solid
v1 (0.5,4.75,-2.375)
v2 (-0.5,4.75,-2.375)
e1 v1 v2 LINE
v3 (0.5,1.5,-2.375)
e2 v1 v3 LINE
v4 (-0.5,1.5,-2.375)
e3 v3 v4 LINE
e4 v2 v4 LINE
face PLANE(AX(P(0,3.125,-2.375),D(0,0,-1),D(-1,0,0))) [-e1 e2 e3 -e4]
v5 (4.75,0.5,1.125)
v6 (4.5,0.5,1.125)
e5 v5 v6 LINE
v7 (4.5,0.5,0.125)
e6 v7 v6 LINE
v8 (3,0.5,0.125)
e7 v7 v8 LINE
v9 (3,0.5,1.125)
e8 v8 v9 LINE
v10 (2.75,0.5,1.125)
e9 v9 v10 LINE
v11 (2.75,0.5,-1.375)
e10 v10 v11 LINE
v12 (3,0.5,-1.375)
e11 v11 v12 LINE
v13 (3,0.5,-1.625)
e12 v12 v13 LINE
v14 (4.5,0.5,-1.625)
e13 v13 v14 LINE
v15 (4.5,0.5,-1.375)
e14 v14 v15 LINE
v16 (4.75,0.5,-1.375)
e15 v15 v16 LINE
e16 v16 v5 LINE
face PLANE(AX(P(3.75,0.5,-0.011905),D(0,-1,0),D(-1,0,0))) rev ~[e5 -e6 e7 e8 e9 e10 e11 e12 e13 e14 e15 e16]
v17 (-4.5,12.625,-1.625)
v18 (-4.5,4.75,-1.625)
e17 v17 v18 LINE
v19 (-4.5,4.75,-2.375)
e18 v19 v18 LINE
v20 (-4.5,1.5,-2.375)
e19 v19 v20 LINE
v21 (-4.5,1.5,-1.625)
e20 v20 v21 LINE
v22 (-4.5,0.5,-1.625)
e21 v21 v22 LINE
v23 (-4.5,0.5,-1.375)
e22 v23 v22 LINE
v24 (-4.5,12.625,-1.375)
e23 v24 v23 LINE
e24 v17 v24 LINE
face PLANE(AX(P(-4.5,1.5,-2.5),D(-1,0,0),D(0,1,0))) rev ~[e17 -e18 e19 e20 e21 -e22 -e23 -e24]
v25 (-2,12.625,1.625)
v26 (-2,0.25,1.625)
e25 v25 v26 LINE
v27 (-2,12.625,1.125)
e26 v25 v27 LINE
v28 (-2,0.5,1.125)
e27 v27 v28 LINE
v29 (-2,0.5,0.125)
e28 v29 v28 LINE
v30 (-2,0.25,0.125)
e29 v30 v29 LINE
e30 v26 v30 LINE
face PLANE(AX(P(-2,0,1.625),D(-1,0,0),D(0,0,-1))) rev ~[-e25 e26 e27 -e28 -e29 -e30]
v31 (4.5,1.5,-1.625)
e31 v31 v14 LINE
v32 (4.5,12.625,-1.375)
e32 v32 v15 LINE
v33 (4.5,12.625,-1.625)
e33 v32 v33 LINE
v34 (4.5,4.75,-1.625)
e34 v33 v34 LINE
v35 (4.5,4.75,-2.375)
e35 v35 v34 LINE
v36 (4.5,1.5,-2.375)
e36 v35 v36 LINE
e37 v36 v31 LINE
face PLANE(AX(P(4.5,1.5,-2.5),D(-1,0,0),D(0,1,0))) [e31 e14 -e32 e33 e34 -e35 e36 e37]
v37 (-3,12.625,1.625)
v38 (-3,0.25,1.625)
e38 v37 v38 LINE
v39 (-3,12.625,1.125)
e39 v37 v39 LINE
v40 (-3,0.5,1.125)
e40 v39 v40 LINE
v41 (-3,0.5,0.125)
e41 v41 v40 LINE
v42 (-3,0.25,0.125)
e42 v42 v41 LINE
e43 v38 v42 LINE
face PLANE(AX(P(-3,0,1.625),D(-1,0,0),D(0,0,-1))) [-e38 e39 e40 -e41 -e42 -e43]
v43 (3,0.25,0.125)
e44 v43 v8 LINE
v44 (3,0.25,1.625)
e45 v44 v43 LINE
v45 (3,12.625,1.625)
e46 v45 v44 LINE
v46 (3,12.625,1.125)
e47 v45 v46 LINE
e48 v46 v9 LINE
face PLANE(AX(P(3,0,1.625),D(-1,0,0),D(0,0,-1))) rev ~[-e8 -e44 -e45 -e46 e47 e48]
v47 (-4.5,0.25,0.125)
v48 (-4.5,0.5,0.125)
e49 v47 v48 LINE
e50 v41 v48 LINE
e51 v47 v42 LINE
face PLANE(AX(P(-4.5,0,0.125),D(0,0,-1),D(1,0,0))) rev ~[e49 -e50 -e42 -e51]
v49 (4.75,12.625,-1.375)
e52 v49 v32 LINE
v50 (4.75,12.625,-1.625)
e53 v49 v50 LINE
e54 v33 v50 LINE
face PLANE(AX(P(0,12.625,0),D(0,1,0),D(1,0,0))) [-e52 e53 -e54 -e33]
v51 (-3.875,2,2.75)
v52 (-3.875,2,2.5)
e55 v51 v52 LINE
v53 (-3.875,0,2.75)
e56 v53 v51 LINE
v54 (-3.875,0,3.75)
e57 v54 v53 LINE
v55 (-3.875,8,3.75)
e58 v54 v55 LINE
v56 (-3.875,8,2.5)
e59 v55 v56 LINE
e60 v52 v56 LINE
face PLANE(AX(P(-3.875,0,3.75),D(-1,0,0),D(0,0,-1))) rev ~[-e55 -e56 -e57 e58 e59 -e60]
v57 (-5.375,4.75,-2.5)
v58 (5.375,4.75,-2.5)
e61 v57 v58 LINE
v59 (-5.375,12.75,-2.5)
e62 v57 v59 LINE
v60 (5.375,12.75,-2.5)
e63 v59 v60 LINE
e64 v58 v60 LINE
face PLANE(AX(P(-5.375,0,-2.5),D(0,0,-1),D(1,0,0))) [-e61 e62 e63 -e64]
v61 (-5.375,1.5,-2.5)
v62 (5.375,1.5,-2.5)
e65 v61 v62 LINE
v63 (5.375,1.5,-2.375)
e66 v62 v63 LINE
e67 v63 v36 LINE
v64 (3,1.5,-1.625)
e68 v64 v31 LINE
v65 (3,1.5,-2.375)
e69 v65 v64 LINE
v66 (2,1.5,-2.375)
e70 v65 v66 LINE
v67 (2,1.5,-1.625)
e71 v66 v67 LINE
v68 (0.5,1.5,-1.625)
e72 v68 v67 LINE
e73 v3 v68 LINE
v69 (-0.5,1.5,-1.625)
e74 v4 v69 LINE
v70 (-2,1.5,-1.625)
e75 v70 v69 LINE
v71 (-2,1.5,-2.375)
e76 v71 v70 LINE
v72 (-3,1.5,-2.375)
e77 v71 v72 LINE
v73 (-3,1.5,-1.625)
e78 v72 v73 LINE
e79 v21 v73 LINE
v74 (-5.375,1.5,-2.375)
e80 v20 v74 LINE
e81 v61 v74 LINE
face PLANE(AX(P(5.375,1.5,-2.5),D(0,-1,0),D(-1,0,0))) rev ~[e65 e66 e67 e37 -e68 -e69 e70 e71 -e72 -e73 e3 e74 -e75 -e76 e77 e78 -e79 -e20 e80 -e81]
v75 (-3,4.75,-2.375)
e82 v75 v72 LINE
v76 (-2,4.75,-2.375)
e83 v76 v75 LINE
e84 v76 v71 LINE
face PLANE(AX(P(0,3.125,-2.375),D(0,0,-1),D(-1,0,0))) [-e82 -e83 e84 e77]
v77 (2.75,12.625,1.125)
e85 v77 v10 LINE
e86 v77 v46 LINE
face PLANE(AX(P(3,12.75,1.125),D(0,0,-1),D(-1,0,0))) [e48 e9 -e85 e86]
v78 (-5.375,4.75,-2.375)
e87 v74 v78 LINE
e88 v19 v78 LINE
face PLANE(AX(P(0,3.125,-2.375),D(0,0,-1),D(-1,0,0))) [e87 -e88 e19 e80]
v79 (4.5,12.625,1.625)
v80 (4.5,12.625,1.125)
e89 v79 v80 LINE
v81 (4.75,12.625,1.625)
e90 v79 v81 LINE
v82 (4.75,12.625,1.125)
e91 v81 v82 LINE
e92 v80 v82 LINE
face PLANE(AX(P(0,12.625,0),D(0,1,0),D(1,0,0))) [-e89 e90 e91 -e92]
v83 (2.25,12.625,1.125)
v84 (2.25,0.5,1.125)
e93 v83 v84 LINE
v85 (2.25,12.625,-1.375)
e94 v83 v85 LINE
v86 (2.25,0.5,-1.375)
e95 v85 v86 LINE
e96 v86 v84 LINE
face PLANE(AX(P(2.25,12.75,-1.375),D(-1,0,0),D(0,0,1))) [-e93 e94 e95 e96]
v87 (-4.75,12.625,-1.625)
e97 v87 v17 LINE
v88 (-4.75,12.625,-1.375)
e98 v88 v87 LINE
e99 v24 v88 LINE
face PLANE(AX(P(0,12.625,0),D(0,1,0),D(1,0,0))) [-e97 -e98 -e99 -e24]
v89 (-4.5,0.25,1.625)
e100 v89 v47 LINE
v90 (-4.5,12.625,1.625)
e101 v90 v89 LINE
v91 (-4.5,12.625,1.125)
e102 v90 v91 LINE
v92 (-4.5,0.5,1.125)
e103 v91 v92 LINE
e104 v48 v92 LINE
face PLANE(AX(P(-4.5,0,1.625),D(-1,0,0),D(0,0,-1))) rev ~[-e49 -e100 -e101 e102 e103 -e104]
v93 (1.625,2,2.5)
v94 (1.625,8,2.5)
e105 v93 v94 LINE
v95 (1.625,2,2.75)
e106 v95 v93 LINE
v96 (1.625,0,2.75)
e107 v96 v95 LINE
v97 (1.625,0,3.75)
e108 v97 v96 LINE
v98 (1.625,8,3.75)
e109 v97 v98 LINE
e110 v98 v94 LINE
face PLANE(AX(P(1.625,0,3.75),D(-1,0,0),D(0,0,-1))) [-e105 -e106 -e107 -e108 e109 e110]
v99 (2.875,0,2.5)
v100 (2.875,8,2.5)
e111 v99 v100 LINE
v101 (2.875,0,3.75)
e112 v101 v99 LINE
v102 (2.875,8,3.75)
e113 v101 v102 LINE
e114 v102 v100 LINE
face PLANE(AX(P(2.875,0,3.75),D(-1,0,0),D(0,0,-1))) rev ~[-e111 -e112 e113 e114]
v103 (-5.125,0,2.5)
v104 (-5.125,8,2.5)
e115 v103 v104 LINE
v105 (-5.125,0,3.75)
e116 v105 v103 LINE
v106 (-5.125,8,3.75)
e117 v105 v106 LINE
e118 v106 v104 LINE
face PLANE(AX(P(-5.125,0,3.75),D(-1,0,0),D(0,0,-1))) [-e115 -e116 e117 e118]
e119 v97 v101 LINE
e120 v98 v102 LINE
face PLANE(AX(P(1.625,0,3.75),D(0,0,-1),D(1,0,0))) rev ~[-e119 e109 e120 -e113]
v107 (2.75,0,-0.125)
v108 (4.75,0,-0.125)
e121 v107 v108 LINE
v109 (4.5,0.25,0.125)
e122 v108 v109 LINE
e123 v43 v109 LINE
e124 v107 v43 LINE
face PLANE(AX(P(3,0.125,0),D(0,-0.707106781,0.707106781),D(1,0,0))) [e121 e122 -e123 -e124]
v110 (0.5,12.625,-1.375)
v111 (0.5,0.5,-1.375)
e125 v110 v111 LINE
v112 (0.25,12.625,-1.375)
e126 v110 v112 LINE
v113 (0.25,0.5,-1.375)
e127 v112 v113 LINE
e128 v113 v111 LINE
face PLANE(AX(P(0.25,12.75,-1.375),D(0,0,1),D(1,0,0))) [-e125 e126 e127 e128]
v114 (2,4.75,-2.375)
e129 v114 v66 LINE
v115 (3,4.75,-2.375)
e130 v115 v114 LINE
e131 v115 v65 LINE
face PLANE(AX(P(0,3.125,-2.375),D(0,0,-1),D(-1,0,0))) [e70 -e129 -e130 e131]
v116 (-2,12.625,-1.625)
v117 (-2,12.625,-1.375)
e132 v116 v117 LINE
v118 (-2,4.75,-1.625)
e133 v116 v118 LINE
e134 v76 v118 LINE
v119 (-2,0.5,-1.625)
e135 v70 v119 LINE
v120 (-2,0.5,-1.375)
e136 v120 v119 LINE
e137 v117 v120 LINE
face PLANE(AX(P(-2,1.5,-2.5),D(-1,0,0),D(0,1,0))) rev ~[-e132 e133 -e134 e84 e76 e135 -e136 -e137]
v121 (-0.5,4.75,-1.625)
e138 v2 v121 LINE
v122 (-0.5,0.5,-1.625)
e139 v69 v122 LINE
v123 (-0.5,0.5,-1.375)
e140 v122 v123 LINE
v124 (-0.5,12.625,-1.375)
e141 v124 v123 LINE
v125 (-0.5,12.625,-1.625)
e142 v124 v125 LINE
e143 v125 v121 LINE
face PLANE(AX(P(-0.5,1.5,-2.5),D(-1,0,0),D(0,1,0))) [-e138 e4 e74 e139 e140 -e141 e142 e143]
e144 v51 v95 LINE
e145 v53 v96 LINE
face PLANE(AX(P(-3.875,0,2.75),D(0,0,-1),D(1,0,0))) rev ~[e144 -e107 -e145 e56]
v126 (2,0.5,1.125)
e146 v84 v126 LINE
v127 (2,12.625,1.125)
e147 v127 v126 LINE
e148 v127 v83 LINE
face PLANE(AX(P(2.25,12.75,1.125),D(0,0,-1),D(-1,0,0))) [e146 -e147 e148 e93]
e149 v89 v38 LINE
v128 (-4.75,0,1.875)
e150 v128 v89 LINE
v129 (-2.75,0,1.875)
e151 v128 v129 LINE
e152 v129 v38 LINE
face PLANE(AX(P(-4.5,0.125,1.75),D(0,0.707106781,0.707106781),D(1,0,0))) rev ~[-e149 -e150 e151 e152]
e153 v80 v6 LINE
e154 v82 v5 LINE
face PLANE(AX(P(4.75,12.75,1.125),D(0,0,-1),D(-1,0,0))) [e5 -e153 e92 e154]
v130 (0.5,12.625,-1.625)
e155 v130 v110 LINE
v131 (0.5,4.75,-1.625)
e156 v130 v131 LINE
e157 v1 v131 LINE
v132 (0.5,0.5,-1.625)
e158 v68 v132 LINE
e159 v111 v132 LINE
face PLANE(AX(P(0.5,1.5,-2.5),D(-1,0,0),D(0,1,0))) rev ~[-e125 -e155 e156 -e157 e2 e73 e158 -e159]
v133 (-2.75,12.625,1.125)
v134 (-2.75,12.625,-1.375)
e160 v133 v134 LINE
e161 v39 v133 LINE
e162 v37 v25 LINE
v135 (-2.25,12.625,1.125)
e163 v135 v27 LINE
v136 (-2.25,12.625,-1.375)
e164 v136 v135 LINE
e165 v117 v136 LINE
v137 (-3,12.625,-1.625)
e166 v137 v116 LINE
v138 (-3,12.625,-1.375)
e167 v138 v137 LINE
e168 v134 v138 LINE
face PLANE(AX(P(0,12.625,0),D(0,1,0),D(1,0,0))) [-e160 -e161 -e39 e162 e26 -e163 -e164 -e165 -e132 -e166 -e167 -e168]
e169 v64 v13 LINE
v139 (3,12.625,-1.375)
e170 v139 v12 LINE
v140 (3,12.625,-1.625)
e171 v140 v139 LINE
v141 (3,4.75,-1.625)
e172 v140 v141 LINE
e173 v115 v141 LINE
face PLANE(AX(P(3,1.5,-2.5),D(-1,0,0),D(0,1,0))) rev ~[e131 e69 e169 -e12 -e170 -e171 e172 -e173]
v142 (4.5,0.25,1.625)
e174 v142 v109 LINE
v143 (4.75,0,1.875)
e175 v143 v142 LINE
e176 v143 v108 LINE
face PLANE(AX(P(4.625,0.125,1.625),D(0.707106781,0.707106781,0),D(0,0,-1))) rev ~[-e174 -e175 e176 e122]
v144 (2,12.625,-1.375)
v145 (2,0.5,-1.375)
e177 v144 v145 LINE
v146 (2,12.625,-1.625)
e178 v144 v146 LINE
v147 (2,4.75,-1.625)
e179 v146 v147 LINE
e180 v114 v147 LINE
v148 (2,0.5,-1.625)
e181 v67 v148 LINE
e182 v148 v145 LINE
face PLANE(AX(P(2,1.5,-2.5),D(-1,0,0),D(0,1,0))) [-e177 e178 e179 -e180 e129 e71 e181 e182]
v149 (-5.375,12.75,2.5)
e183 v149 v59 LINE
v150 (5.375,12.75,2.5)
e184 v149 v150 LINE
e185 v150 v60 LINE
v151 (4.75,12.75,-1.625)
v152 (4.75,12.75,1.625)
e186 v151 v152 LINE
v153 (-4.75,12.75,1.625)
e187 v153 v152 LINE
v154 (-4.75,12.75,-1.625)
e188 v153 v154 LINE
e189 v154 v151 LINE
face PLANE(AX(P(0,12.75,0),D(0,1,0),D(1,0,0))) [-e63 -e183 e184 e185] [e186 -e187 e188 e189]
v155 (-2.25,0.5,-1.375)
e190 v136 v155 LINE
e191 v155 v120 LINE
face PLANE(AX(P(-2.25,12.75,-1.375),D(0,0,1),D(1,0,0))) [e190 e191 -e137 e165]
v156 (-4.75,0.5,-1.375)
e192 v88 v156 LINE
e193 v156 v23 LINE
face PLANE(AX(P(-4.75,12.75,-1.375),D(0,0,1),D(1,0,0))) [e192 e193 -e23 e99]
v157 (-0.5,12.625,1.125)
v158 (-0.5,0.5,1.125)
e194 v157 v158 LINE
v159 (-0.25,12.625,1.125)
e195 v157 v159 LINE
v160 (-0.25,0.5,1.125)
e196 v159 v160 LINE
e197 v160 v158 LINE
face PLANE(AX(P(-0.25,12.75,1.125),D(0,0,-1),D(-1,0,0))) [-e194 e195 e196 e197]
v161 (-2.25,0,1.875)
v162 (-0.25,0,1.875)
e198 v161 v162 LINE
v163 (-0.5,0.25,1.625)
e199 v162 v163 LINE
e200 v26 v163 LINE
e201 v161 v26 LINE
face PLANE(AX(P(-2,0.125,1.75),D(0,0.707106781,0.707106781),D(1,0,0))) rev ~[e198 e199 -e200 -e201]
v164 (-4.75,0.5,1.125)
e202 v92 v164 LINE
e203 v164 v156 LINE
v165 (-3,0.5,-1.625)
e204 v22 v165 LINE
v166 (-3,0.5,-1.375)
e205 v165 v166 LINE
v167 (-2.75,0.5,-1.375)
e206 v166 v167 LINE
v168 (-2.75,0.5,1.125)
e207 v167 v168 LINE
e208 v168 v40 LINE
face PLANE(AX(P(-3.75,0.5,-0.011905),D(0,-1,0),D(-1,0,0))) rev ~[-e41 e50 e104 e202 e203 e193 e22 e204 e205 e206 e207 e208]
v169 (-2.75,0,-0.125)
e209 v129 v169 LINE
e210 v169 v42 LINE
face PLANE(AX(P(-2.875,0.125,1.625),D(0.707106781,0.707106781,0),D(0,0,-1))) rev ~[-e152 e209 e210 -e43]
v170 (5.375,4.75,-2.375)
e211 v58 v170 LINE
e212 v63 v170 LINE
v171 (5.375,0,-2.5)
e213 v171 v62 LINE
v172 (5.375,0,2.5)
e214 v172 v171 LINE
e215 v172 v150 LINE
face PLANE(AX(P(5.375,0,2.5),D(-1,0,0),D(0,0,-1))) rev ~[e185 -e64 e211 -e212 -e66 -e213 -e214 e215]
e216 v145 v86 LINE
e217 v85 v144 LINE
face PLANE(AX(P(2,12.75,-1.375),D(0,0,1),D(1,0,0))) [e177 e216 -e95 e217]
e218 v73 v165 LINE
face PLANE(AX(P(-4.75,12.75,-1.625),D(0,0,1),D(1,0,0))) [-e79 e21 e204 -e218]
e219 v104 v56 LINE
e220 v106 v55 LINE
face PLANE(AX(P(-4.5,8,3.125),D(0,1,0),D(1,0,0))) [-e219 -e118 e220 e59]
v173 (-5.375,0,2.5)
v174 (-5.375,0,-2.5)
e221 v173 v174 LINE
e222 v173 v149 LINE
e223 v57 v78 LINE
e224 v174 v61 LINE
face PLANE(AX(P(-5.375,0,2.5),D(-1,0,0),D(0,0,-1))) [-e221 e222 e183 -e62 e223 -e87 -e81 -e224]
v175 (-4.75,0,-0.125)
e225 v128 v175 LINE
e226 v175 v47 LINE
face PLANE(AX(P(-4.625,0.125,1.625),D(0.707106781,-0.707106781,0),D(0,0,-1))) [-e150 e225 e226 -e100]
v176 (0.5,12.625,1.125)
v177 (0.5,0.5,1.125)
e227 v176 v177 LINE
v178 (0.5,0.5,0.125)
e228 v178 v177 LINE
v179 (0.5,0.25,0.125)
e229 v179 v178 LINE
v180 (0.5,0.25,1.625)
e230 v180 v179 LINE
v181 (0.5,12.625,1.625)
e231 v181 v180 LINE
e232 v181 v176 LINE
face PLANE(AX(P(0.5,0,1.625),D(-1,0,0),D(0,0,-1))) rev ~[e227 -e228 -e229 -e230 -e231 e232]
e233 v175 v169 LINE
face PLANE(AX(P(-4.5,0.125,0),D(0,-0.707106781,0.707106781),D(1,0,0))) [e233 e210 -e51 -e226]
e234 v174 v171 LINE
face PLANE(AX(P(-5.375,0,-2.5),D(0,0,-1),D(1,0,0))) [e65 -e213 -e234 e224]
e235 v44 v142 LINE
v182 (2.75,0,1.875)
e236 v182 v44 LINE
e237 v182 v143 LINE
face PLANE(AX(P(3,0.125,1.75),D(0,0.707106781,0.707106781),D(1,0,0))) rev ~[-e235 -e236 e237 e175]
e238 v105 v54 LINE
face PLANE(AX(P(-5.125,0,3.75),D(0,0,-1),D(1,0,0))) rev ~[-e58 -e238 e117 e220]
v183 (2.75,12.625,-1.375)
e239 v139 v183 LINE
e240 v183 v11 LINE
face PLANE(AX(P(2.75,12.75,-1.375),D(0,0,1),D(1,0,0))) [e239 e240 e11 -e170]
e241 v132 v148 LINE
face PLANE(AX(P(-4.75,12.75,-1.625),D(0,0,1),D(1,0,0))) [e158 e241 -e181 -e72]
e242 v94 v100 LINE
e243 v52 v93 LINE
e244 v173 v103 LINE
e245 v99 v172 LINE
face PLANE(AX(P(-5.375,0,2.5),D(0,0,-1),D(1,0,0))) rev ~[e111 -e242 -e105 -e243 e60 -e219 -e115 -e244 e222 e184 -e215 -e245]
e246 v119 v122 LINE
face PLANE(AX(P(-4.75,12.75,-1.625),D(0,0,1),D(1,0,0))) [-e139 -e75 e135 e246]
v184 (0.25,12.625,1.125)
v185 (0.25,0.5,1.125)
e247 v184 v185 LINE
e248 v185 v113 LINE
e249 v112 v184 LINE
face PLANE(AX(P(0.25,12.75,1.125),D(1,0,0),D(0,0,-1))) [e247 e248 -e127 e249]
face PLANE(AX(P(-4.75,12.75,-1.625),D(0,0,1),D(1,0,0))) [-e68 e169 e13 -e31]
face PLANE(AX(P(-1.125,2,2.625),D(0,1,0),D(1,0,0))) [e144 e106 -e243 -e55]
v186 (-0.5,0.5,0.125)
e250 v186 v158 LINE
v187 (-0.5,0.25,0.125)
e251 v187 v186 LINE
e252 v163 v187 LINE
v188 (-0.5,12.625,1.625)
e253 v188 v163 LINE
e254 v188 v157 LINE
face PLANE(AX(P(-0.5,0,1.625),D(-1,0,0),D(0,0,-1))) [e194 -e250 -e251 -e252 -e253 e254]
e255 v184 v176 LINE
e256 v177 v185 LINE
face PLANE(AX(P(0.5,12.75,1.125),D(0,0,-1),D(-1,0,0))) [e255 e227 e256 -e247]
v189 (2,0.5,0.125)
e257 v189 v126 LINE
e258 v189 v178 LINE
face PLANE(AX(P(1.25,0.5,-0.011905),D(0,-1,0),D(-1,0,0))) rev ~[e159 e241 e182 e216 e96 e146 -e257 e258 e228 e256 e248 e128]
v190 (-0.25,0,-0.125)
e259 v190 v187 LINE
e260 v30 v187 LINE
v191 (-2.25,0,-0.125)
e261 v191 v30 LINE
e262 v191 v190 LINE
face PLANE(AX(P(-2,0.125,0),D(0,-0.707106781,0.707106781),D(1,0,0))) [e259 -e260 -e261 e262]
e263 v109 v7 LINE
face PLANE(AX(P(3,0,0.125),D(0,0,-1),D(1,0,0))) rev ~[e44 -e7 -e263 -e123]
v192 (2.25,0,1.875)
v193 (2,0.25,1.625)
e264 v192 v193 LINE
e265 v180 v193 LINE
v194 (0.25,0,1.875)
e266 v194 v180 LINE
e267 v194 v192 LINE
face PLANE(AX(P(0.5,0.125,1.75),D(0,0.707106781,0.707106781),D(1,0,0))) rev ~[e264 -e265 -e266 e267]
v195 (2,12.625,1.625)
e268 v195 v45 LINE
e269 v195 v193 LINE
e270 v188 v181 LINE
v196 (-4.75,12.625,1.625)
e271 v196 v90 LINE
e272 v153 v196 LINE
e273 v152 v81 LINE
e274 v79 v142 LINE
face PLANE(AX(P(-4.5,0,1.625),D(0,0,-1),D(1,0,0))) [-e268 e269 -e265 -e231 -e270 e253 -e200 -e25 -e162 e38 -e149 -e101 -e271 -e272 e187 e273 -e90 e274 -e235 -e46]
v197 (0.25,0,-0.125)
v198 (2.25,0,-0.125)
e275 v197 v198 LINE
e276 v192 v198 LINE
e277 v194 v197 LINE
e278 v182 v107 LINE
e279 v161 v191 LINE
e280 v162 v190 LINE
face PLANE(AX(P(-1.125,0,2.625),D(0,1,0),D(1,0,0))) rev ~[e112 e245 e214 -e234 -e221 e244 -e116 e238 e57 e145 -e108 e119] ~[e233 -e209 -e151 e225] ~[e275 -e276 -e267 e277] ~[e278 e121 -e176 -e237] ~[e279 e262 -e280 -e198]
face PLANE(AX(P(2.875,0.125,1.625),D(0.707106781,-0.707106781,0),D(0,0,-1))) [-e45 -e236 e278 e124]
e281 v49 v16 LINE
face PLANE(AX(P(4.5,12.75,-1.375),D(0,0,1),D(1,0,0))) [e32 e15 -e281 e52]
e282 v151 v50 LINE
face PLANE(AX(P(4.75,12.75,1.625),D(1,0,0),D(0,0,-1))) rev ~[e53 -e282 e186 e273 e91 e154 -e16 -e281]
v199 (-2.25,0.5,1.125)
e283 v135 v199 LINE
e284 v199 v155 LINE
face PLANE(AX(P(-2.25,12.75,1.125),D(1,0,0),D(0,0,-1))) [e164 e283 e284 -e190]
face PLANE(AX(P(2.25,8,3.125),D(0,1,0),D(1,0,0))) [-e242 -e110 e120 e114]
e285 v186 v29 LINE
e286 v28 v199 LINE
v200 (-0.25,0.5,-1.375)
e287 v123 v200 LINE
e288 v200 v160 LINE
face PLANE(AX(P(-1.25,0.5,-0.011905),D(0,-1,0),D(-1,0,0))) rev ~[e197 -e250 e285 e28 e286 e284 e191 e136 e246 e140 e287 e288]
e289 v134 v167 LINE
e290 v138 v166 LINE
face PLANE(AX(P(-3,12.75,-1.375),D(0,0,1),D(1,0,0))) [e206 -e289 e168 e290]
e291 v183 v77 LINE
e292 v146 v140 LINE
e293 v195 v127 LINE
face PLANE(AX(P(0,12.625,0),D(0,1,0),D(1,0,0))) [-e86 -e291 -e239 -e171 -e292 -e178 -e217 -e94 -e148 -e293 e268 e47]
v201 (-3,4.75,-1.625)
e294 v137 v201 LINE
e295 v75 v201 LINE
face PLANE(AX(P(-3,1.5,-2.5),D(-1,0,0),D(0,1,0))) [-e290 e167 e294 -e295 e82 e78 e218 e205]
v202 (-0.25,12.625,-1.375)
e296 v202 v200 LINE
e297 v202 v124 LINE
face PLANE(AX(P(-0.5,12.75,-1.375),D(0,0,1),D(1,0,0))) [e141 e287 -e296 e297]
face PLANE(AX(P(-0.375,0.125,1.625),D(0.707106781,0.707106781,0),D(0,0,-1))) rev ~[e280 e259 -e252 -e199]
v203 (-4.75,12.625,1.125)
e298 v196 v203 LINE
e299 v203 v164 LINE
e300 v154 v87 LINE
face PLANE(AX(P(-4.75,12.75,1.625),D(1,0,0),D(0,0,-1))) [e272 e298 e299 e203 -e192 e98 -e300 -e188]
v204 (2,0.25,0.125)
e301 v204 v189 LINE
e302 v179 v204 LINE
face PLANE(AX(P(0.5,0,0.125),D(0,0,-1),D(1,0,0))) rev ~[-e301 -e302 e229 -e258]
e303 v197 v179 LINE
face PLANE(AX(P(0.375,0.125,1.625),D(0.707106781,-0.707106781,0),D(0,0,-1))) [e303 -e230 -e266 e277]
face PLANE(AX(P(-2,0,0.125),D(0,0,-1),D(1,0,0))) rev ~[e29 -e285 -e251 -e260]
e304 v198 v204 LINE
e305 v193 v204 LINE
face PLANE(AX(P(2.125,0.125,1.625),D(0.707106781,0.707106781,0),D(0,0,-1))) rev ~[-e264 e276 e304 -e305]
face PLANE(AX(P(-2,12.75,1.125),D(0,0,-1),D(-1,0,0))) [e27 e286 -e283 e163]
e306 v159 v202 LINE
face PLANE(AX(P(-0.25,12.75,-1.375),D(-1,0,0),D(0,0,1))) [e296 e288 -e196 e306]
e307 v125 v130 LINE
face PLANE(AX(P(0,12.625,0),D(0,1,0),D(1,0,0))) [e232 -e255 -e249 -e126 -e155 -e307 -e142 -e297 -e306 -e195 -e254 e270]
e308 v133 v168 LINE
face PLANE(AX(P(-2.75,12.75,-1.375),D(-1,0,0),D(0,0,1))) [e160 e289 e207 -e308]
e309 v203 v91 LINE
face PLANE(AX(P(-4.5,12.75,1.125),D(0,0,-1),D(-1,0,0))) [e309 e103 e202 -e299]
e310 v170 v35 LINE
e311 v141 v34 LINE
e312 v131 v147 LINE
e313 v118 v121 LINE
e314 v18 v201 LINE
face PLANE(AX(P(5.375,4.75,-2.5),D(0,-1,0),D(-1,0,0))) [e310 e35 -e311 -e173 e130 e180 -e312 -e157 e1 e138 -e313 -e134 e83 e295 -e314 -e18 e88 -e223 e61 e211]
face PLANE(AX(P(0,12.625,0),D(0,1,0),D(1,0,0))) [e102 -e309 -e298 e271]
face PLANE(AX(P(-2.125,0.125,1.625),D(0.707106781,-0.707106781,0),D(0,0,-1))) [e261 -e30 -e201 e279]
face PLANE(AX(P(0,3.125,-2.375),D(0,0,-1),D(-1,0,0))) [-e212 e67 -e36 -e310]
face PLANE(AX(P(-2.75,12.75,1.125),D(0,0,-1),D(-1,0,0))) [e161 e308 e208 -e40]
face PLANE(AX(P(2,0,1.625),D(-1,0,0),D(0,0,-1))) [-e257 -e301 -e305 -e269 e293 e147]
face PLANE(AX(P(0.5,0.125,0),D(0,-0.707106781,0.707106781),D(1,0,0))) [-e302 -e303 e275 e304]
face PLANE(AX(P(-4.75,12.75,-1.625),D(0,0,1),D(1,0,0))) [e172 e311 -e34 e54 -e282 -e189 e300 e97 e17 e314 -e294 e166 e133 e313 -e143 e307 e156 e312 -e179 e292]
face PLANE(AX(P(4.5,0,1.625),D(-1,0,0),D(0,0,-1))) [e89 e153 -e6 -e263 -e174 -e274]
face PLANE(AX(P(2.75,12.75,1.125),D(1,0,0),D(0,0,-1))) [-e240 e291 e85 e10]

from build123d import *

# Parameters (mm, degrees)
SKIZZE1_W                       = 10.75
SKIZZE1_H                       = 5
AUFSATZ_LINEAR_AUSTRAGEN1_DEPTH = 12.75
SKIZZE2_W                       = 1.25
SKIZZE2_H                       = 1.25
AUFSATZ_LINEAR_AUSTRAGEN2_DEPTH = 8
SKIZZE3_W                       = 5.5
SKIZZE3_H                       = 0.25
AUFSATZ_LINEAR_AUSTRAGEN3_DEPTH = 2
SKIZZE4_W                       = 1.5
SKIZZE4_H                       = 1.5
SCHNITT_LINEAR_AUSTRAGEN2_DEPTH = 15.335816161
FASE1_SIZE                      = 0.25
SCHNITT_LINEAR_AUSTRAGEN3_DEPTH = 12.25
SKIZZE6_W                       = 9.5
SKIZZE6_H                       = 3.25
SCHNITT_LINEAR_AUSTRAGEN4_DEPTH = 0.125
SKIZZE7_W                       = 1.5
SKIZZE7_H                       = 3.25
SCHNITT_LINEAR_AUSTRAGEN5_DEPTH = 1
SKIZZE8_W                       = 10.75
SKIZZE8_H                       = 3.25
SCHNITT_LINEAR_AUSTRAGEN6_DEPTH = 0.125


with BuildPart() as part:
    # Skizze1 → Aufsatz-Linear austragen1 (new body)
    with BuildSketch(Plane(origin=(0, 0, 0), x_dir=(1, 0, 0), z_dir=(0, 1, 0))):
        Rectangle(SKIZZE1_W, SKIZZE1_H)
    extrude(amount=AUFSATZ_LINEAR_AUSTRAGEN1_DEPTH)

    # Skizze2 → Aufsatz-Linear austragen2 (add)
    with BuildSketch(Plane(origin=(0, 0, 0), x_dir=(1, 0, 0), z_dir=(0, 1, 0))):
        with Locations((-4.5, -3.125)):
            Rectangle(SKIZZE2_W, SKIZZE2_H)
        with Locations((2.25, -3.125)):
            Rectangle(SKIZZE2_W, SKIZZE2_H)
    extrude(amount=AUFSATZ_LINEAR_AUSTRAGEN2_DEPTH)

    # Skizze3 → Aufsatz-Linear austragen3 (add)
    with BuildSketch(Plane(origin=(0, 0, 0), x_dir=(1, 0, 0), z_dir=(0, 1, 0))):
        with Locations((-1.125, -2.625)):
            Rectangle(SKIZZE3_W, SKIZZE3_H)
    extrude(amount=AUFSATZ_LINEAR_AUSTRAGEN3_DEPTH)

    # Skizze4 → Schnitt-Linear austragen2 (cut, through all)
    with BuildSketch(Plane(origin=(0, 0, 0), x_dir=(1, 0, 0), z_dir=(0, 1, 0))):
        with Locations((-3.75, -0.875)):
            Rectangle(SKIZZE4_W, SKIZZE4_H)
        with Locations((-1.25, -0.875)):
            Rectangle(SKIZZE4_W, SKIZZE4_H)
        with Locations((1.25, -0.875)):
            Rectangle(SKIZZE4_W, SKIZZE4_H)
        with Locations((3.75, -0.875)):
            Rectangle(SKIZZE4_W, SKIZZE4_H)
    extrude(amount=SCHNITT_LINEAR_AUSTRAGEN2_DEPTH, mode=Mode.SUBTRACT)

    # Fase1
    fase1_edges = [part.edges().sort_by_distance(p)[0] for p in [
        (-4.5, 0, 0.875),
        (-3.75, 0, 1.625),
        (-3, 0, 0.875),
        (-3.75, 0, 0.125),
        (-2, 0, 0.875),
        (-1.25, 0, 1.625),
        (-0.5, 0, 0.875),
        (-1.25, 0, 0.125),
        (0.5, 0, 0.875),
        (1.25, 0, 1.625),
        (2, 0, 0.875),
        (1.25, 0, 0.125),
        (3, 0, 0.875),
        (3.75, 0, 1.625),
        (4.5, 0, 0.875),
        (3.75, 0, 0.125),
    ]]
    chamfer(fase1_edges, length=FASE1_SIZE)

    # Skizze5 → Schnitt-Linear austragen3 (cut)
    with BuildSketch(Plane(origin=(0, 12.75, 0), x_dir=(1, 0, 0), z_dir=(0, 1, 0))):
        Polygon((-4.5, 1.625), (-3, 1.625), (-3, 1.375), (-2.75, 1.375), (-2.75, -1.125), (-3, -1.125), (-3, -1.625), (-4.5, -1.625), (-4.5, -1.125), (-4.75, -1.125), (-4.75, 1.375), (-4.5, 1.375), align=None)
        Polygon((-2, 1.625), (-0.5, 1.625), (-0.5, 1.375), (-0.25, 1.375), (-0.25, -1.125), (-0.5, -1.125), (-0.5, -1.625), (-2, -1.625), (-2, -1.125), (-2.25, -1.125), (-2.25, 1.375), (-2, 1.375), align=None)
        Polygon((0.5, 1.625), (2, 1.625), (2, 1.375), (2.25, 1.375), (2.25, -1.125), (2, -1.125), (2, -1.625), (0.5, -1.625), (0.5, -1.125), (0.25, -1.125), (0.25, 1.375), (0.5, 1.375), align=None)
        Polygon((3, 1.625), (4.5, 1.625), (4.5, 1.375), (4.75, 1.375), (4.75, -1.125), (4.5, -1.125), (4.5, -1.625), (3, -1.625), (3, -1.125), (2.75, -1.125), (2.75, 1.375), (3, 1.375), align=None)
    extrude(amount=-SCHNITT_LINEAR_AUSTRAGEN3_DEPTH, mode=Mode.SUBTRACT)

    # Skizze6 → Schnitt-Linear austragen4 (cut)
    with BuildSketch(Plane(origin=(0, 12.75, 0), x_dir=(1, 0, 0), z_dir=(0, 1, 0))):
        Rectangle(SKIZZE6_W, SKIZZE6_H)
    extrude(amount=-SCHNITT_LINEAR_AUSTRAGEN4_DEPTH, mode=Mode.SUBTRACT)

    # Skizze7 → Schnitt-Linear austragen5 (cut)
    with BuildSketch(Plane(origin=(0, 0, -2.5), x_dir=(-1, 0, 0), z_dir=(0, 0, -1))):
        with Locations((-3.75, 3.125)):
            Rectangle(SKIZZE7_W, SKIZZE7_H)
        with Locations((-1.25, 3.125)):
            Rectangle(SKIZZE7_W, SKIZZE7_H)
        with Locations((1.25, 3.125)):
            Rectangle(SKIZZE7_W, SKIZZE7_H)
        with Locations((3.75, 3.125)):
            Rectangle(SKIZZE7_W, SKIZZE7_H)
    extrude(amount=-SCHNITT_LINEAR_AUSTRAGEN5_DEPTH, mode=Mode.SUBTRACT)

    # Skizze8 → Schnitt-Linear austragen6 (cut)
    with BuildSketch(Plane(origin=(0, 0, -2.5), x_dir=(-1, 0, 0), z_dir=(0, 0, -1))):
        with Locations((0, 3.125)):
            Rectangle(SKIZZE8_W, SKIZZE8_H)
    extrude(amount=-SCHNITT_LINEAR_AUSTRAGEN6_DEPTH, mode=Mode.SUBTRACT)


solid = part.part
